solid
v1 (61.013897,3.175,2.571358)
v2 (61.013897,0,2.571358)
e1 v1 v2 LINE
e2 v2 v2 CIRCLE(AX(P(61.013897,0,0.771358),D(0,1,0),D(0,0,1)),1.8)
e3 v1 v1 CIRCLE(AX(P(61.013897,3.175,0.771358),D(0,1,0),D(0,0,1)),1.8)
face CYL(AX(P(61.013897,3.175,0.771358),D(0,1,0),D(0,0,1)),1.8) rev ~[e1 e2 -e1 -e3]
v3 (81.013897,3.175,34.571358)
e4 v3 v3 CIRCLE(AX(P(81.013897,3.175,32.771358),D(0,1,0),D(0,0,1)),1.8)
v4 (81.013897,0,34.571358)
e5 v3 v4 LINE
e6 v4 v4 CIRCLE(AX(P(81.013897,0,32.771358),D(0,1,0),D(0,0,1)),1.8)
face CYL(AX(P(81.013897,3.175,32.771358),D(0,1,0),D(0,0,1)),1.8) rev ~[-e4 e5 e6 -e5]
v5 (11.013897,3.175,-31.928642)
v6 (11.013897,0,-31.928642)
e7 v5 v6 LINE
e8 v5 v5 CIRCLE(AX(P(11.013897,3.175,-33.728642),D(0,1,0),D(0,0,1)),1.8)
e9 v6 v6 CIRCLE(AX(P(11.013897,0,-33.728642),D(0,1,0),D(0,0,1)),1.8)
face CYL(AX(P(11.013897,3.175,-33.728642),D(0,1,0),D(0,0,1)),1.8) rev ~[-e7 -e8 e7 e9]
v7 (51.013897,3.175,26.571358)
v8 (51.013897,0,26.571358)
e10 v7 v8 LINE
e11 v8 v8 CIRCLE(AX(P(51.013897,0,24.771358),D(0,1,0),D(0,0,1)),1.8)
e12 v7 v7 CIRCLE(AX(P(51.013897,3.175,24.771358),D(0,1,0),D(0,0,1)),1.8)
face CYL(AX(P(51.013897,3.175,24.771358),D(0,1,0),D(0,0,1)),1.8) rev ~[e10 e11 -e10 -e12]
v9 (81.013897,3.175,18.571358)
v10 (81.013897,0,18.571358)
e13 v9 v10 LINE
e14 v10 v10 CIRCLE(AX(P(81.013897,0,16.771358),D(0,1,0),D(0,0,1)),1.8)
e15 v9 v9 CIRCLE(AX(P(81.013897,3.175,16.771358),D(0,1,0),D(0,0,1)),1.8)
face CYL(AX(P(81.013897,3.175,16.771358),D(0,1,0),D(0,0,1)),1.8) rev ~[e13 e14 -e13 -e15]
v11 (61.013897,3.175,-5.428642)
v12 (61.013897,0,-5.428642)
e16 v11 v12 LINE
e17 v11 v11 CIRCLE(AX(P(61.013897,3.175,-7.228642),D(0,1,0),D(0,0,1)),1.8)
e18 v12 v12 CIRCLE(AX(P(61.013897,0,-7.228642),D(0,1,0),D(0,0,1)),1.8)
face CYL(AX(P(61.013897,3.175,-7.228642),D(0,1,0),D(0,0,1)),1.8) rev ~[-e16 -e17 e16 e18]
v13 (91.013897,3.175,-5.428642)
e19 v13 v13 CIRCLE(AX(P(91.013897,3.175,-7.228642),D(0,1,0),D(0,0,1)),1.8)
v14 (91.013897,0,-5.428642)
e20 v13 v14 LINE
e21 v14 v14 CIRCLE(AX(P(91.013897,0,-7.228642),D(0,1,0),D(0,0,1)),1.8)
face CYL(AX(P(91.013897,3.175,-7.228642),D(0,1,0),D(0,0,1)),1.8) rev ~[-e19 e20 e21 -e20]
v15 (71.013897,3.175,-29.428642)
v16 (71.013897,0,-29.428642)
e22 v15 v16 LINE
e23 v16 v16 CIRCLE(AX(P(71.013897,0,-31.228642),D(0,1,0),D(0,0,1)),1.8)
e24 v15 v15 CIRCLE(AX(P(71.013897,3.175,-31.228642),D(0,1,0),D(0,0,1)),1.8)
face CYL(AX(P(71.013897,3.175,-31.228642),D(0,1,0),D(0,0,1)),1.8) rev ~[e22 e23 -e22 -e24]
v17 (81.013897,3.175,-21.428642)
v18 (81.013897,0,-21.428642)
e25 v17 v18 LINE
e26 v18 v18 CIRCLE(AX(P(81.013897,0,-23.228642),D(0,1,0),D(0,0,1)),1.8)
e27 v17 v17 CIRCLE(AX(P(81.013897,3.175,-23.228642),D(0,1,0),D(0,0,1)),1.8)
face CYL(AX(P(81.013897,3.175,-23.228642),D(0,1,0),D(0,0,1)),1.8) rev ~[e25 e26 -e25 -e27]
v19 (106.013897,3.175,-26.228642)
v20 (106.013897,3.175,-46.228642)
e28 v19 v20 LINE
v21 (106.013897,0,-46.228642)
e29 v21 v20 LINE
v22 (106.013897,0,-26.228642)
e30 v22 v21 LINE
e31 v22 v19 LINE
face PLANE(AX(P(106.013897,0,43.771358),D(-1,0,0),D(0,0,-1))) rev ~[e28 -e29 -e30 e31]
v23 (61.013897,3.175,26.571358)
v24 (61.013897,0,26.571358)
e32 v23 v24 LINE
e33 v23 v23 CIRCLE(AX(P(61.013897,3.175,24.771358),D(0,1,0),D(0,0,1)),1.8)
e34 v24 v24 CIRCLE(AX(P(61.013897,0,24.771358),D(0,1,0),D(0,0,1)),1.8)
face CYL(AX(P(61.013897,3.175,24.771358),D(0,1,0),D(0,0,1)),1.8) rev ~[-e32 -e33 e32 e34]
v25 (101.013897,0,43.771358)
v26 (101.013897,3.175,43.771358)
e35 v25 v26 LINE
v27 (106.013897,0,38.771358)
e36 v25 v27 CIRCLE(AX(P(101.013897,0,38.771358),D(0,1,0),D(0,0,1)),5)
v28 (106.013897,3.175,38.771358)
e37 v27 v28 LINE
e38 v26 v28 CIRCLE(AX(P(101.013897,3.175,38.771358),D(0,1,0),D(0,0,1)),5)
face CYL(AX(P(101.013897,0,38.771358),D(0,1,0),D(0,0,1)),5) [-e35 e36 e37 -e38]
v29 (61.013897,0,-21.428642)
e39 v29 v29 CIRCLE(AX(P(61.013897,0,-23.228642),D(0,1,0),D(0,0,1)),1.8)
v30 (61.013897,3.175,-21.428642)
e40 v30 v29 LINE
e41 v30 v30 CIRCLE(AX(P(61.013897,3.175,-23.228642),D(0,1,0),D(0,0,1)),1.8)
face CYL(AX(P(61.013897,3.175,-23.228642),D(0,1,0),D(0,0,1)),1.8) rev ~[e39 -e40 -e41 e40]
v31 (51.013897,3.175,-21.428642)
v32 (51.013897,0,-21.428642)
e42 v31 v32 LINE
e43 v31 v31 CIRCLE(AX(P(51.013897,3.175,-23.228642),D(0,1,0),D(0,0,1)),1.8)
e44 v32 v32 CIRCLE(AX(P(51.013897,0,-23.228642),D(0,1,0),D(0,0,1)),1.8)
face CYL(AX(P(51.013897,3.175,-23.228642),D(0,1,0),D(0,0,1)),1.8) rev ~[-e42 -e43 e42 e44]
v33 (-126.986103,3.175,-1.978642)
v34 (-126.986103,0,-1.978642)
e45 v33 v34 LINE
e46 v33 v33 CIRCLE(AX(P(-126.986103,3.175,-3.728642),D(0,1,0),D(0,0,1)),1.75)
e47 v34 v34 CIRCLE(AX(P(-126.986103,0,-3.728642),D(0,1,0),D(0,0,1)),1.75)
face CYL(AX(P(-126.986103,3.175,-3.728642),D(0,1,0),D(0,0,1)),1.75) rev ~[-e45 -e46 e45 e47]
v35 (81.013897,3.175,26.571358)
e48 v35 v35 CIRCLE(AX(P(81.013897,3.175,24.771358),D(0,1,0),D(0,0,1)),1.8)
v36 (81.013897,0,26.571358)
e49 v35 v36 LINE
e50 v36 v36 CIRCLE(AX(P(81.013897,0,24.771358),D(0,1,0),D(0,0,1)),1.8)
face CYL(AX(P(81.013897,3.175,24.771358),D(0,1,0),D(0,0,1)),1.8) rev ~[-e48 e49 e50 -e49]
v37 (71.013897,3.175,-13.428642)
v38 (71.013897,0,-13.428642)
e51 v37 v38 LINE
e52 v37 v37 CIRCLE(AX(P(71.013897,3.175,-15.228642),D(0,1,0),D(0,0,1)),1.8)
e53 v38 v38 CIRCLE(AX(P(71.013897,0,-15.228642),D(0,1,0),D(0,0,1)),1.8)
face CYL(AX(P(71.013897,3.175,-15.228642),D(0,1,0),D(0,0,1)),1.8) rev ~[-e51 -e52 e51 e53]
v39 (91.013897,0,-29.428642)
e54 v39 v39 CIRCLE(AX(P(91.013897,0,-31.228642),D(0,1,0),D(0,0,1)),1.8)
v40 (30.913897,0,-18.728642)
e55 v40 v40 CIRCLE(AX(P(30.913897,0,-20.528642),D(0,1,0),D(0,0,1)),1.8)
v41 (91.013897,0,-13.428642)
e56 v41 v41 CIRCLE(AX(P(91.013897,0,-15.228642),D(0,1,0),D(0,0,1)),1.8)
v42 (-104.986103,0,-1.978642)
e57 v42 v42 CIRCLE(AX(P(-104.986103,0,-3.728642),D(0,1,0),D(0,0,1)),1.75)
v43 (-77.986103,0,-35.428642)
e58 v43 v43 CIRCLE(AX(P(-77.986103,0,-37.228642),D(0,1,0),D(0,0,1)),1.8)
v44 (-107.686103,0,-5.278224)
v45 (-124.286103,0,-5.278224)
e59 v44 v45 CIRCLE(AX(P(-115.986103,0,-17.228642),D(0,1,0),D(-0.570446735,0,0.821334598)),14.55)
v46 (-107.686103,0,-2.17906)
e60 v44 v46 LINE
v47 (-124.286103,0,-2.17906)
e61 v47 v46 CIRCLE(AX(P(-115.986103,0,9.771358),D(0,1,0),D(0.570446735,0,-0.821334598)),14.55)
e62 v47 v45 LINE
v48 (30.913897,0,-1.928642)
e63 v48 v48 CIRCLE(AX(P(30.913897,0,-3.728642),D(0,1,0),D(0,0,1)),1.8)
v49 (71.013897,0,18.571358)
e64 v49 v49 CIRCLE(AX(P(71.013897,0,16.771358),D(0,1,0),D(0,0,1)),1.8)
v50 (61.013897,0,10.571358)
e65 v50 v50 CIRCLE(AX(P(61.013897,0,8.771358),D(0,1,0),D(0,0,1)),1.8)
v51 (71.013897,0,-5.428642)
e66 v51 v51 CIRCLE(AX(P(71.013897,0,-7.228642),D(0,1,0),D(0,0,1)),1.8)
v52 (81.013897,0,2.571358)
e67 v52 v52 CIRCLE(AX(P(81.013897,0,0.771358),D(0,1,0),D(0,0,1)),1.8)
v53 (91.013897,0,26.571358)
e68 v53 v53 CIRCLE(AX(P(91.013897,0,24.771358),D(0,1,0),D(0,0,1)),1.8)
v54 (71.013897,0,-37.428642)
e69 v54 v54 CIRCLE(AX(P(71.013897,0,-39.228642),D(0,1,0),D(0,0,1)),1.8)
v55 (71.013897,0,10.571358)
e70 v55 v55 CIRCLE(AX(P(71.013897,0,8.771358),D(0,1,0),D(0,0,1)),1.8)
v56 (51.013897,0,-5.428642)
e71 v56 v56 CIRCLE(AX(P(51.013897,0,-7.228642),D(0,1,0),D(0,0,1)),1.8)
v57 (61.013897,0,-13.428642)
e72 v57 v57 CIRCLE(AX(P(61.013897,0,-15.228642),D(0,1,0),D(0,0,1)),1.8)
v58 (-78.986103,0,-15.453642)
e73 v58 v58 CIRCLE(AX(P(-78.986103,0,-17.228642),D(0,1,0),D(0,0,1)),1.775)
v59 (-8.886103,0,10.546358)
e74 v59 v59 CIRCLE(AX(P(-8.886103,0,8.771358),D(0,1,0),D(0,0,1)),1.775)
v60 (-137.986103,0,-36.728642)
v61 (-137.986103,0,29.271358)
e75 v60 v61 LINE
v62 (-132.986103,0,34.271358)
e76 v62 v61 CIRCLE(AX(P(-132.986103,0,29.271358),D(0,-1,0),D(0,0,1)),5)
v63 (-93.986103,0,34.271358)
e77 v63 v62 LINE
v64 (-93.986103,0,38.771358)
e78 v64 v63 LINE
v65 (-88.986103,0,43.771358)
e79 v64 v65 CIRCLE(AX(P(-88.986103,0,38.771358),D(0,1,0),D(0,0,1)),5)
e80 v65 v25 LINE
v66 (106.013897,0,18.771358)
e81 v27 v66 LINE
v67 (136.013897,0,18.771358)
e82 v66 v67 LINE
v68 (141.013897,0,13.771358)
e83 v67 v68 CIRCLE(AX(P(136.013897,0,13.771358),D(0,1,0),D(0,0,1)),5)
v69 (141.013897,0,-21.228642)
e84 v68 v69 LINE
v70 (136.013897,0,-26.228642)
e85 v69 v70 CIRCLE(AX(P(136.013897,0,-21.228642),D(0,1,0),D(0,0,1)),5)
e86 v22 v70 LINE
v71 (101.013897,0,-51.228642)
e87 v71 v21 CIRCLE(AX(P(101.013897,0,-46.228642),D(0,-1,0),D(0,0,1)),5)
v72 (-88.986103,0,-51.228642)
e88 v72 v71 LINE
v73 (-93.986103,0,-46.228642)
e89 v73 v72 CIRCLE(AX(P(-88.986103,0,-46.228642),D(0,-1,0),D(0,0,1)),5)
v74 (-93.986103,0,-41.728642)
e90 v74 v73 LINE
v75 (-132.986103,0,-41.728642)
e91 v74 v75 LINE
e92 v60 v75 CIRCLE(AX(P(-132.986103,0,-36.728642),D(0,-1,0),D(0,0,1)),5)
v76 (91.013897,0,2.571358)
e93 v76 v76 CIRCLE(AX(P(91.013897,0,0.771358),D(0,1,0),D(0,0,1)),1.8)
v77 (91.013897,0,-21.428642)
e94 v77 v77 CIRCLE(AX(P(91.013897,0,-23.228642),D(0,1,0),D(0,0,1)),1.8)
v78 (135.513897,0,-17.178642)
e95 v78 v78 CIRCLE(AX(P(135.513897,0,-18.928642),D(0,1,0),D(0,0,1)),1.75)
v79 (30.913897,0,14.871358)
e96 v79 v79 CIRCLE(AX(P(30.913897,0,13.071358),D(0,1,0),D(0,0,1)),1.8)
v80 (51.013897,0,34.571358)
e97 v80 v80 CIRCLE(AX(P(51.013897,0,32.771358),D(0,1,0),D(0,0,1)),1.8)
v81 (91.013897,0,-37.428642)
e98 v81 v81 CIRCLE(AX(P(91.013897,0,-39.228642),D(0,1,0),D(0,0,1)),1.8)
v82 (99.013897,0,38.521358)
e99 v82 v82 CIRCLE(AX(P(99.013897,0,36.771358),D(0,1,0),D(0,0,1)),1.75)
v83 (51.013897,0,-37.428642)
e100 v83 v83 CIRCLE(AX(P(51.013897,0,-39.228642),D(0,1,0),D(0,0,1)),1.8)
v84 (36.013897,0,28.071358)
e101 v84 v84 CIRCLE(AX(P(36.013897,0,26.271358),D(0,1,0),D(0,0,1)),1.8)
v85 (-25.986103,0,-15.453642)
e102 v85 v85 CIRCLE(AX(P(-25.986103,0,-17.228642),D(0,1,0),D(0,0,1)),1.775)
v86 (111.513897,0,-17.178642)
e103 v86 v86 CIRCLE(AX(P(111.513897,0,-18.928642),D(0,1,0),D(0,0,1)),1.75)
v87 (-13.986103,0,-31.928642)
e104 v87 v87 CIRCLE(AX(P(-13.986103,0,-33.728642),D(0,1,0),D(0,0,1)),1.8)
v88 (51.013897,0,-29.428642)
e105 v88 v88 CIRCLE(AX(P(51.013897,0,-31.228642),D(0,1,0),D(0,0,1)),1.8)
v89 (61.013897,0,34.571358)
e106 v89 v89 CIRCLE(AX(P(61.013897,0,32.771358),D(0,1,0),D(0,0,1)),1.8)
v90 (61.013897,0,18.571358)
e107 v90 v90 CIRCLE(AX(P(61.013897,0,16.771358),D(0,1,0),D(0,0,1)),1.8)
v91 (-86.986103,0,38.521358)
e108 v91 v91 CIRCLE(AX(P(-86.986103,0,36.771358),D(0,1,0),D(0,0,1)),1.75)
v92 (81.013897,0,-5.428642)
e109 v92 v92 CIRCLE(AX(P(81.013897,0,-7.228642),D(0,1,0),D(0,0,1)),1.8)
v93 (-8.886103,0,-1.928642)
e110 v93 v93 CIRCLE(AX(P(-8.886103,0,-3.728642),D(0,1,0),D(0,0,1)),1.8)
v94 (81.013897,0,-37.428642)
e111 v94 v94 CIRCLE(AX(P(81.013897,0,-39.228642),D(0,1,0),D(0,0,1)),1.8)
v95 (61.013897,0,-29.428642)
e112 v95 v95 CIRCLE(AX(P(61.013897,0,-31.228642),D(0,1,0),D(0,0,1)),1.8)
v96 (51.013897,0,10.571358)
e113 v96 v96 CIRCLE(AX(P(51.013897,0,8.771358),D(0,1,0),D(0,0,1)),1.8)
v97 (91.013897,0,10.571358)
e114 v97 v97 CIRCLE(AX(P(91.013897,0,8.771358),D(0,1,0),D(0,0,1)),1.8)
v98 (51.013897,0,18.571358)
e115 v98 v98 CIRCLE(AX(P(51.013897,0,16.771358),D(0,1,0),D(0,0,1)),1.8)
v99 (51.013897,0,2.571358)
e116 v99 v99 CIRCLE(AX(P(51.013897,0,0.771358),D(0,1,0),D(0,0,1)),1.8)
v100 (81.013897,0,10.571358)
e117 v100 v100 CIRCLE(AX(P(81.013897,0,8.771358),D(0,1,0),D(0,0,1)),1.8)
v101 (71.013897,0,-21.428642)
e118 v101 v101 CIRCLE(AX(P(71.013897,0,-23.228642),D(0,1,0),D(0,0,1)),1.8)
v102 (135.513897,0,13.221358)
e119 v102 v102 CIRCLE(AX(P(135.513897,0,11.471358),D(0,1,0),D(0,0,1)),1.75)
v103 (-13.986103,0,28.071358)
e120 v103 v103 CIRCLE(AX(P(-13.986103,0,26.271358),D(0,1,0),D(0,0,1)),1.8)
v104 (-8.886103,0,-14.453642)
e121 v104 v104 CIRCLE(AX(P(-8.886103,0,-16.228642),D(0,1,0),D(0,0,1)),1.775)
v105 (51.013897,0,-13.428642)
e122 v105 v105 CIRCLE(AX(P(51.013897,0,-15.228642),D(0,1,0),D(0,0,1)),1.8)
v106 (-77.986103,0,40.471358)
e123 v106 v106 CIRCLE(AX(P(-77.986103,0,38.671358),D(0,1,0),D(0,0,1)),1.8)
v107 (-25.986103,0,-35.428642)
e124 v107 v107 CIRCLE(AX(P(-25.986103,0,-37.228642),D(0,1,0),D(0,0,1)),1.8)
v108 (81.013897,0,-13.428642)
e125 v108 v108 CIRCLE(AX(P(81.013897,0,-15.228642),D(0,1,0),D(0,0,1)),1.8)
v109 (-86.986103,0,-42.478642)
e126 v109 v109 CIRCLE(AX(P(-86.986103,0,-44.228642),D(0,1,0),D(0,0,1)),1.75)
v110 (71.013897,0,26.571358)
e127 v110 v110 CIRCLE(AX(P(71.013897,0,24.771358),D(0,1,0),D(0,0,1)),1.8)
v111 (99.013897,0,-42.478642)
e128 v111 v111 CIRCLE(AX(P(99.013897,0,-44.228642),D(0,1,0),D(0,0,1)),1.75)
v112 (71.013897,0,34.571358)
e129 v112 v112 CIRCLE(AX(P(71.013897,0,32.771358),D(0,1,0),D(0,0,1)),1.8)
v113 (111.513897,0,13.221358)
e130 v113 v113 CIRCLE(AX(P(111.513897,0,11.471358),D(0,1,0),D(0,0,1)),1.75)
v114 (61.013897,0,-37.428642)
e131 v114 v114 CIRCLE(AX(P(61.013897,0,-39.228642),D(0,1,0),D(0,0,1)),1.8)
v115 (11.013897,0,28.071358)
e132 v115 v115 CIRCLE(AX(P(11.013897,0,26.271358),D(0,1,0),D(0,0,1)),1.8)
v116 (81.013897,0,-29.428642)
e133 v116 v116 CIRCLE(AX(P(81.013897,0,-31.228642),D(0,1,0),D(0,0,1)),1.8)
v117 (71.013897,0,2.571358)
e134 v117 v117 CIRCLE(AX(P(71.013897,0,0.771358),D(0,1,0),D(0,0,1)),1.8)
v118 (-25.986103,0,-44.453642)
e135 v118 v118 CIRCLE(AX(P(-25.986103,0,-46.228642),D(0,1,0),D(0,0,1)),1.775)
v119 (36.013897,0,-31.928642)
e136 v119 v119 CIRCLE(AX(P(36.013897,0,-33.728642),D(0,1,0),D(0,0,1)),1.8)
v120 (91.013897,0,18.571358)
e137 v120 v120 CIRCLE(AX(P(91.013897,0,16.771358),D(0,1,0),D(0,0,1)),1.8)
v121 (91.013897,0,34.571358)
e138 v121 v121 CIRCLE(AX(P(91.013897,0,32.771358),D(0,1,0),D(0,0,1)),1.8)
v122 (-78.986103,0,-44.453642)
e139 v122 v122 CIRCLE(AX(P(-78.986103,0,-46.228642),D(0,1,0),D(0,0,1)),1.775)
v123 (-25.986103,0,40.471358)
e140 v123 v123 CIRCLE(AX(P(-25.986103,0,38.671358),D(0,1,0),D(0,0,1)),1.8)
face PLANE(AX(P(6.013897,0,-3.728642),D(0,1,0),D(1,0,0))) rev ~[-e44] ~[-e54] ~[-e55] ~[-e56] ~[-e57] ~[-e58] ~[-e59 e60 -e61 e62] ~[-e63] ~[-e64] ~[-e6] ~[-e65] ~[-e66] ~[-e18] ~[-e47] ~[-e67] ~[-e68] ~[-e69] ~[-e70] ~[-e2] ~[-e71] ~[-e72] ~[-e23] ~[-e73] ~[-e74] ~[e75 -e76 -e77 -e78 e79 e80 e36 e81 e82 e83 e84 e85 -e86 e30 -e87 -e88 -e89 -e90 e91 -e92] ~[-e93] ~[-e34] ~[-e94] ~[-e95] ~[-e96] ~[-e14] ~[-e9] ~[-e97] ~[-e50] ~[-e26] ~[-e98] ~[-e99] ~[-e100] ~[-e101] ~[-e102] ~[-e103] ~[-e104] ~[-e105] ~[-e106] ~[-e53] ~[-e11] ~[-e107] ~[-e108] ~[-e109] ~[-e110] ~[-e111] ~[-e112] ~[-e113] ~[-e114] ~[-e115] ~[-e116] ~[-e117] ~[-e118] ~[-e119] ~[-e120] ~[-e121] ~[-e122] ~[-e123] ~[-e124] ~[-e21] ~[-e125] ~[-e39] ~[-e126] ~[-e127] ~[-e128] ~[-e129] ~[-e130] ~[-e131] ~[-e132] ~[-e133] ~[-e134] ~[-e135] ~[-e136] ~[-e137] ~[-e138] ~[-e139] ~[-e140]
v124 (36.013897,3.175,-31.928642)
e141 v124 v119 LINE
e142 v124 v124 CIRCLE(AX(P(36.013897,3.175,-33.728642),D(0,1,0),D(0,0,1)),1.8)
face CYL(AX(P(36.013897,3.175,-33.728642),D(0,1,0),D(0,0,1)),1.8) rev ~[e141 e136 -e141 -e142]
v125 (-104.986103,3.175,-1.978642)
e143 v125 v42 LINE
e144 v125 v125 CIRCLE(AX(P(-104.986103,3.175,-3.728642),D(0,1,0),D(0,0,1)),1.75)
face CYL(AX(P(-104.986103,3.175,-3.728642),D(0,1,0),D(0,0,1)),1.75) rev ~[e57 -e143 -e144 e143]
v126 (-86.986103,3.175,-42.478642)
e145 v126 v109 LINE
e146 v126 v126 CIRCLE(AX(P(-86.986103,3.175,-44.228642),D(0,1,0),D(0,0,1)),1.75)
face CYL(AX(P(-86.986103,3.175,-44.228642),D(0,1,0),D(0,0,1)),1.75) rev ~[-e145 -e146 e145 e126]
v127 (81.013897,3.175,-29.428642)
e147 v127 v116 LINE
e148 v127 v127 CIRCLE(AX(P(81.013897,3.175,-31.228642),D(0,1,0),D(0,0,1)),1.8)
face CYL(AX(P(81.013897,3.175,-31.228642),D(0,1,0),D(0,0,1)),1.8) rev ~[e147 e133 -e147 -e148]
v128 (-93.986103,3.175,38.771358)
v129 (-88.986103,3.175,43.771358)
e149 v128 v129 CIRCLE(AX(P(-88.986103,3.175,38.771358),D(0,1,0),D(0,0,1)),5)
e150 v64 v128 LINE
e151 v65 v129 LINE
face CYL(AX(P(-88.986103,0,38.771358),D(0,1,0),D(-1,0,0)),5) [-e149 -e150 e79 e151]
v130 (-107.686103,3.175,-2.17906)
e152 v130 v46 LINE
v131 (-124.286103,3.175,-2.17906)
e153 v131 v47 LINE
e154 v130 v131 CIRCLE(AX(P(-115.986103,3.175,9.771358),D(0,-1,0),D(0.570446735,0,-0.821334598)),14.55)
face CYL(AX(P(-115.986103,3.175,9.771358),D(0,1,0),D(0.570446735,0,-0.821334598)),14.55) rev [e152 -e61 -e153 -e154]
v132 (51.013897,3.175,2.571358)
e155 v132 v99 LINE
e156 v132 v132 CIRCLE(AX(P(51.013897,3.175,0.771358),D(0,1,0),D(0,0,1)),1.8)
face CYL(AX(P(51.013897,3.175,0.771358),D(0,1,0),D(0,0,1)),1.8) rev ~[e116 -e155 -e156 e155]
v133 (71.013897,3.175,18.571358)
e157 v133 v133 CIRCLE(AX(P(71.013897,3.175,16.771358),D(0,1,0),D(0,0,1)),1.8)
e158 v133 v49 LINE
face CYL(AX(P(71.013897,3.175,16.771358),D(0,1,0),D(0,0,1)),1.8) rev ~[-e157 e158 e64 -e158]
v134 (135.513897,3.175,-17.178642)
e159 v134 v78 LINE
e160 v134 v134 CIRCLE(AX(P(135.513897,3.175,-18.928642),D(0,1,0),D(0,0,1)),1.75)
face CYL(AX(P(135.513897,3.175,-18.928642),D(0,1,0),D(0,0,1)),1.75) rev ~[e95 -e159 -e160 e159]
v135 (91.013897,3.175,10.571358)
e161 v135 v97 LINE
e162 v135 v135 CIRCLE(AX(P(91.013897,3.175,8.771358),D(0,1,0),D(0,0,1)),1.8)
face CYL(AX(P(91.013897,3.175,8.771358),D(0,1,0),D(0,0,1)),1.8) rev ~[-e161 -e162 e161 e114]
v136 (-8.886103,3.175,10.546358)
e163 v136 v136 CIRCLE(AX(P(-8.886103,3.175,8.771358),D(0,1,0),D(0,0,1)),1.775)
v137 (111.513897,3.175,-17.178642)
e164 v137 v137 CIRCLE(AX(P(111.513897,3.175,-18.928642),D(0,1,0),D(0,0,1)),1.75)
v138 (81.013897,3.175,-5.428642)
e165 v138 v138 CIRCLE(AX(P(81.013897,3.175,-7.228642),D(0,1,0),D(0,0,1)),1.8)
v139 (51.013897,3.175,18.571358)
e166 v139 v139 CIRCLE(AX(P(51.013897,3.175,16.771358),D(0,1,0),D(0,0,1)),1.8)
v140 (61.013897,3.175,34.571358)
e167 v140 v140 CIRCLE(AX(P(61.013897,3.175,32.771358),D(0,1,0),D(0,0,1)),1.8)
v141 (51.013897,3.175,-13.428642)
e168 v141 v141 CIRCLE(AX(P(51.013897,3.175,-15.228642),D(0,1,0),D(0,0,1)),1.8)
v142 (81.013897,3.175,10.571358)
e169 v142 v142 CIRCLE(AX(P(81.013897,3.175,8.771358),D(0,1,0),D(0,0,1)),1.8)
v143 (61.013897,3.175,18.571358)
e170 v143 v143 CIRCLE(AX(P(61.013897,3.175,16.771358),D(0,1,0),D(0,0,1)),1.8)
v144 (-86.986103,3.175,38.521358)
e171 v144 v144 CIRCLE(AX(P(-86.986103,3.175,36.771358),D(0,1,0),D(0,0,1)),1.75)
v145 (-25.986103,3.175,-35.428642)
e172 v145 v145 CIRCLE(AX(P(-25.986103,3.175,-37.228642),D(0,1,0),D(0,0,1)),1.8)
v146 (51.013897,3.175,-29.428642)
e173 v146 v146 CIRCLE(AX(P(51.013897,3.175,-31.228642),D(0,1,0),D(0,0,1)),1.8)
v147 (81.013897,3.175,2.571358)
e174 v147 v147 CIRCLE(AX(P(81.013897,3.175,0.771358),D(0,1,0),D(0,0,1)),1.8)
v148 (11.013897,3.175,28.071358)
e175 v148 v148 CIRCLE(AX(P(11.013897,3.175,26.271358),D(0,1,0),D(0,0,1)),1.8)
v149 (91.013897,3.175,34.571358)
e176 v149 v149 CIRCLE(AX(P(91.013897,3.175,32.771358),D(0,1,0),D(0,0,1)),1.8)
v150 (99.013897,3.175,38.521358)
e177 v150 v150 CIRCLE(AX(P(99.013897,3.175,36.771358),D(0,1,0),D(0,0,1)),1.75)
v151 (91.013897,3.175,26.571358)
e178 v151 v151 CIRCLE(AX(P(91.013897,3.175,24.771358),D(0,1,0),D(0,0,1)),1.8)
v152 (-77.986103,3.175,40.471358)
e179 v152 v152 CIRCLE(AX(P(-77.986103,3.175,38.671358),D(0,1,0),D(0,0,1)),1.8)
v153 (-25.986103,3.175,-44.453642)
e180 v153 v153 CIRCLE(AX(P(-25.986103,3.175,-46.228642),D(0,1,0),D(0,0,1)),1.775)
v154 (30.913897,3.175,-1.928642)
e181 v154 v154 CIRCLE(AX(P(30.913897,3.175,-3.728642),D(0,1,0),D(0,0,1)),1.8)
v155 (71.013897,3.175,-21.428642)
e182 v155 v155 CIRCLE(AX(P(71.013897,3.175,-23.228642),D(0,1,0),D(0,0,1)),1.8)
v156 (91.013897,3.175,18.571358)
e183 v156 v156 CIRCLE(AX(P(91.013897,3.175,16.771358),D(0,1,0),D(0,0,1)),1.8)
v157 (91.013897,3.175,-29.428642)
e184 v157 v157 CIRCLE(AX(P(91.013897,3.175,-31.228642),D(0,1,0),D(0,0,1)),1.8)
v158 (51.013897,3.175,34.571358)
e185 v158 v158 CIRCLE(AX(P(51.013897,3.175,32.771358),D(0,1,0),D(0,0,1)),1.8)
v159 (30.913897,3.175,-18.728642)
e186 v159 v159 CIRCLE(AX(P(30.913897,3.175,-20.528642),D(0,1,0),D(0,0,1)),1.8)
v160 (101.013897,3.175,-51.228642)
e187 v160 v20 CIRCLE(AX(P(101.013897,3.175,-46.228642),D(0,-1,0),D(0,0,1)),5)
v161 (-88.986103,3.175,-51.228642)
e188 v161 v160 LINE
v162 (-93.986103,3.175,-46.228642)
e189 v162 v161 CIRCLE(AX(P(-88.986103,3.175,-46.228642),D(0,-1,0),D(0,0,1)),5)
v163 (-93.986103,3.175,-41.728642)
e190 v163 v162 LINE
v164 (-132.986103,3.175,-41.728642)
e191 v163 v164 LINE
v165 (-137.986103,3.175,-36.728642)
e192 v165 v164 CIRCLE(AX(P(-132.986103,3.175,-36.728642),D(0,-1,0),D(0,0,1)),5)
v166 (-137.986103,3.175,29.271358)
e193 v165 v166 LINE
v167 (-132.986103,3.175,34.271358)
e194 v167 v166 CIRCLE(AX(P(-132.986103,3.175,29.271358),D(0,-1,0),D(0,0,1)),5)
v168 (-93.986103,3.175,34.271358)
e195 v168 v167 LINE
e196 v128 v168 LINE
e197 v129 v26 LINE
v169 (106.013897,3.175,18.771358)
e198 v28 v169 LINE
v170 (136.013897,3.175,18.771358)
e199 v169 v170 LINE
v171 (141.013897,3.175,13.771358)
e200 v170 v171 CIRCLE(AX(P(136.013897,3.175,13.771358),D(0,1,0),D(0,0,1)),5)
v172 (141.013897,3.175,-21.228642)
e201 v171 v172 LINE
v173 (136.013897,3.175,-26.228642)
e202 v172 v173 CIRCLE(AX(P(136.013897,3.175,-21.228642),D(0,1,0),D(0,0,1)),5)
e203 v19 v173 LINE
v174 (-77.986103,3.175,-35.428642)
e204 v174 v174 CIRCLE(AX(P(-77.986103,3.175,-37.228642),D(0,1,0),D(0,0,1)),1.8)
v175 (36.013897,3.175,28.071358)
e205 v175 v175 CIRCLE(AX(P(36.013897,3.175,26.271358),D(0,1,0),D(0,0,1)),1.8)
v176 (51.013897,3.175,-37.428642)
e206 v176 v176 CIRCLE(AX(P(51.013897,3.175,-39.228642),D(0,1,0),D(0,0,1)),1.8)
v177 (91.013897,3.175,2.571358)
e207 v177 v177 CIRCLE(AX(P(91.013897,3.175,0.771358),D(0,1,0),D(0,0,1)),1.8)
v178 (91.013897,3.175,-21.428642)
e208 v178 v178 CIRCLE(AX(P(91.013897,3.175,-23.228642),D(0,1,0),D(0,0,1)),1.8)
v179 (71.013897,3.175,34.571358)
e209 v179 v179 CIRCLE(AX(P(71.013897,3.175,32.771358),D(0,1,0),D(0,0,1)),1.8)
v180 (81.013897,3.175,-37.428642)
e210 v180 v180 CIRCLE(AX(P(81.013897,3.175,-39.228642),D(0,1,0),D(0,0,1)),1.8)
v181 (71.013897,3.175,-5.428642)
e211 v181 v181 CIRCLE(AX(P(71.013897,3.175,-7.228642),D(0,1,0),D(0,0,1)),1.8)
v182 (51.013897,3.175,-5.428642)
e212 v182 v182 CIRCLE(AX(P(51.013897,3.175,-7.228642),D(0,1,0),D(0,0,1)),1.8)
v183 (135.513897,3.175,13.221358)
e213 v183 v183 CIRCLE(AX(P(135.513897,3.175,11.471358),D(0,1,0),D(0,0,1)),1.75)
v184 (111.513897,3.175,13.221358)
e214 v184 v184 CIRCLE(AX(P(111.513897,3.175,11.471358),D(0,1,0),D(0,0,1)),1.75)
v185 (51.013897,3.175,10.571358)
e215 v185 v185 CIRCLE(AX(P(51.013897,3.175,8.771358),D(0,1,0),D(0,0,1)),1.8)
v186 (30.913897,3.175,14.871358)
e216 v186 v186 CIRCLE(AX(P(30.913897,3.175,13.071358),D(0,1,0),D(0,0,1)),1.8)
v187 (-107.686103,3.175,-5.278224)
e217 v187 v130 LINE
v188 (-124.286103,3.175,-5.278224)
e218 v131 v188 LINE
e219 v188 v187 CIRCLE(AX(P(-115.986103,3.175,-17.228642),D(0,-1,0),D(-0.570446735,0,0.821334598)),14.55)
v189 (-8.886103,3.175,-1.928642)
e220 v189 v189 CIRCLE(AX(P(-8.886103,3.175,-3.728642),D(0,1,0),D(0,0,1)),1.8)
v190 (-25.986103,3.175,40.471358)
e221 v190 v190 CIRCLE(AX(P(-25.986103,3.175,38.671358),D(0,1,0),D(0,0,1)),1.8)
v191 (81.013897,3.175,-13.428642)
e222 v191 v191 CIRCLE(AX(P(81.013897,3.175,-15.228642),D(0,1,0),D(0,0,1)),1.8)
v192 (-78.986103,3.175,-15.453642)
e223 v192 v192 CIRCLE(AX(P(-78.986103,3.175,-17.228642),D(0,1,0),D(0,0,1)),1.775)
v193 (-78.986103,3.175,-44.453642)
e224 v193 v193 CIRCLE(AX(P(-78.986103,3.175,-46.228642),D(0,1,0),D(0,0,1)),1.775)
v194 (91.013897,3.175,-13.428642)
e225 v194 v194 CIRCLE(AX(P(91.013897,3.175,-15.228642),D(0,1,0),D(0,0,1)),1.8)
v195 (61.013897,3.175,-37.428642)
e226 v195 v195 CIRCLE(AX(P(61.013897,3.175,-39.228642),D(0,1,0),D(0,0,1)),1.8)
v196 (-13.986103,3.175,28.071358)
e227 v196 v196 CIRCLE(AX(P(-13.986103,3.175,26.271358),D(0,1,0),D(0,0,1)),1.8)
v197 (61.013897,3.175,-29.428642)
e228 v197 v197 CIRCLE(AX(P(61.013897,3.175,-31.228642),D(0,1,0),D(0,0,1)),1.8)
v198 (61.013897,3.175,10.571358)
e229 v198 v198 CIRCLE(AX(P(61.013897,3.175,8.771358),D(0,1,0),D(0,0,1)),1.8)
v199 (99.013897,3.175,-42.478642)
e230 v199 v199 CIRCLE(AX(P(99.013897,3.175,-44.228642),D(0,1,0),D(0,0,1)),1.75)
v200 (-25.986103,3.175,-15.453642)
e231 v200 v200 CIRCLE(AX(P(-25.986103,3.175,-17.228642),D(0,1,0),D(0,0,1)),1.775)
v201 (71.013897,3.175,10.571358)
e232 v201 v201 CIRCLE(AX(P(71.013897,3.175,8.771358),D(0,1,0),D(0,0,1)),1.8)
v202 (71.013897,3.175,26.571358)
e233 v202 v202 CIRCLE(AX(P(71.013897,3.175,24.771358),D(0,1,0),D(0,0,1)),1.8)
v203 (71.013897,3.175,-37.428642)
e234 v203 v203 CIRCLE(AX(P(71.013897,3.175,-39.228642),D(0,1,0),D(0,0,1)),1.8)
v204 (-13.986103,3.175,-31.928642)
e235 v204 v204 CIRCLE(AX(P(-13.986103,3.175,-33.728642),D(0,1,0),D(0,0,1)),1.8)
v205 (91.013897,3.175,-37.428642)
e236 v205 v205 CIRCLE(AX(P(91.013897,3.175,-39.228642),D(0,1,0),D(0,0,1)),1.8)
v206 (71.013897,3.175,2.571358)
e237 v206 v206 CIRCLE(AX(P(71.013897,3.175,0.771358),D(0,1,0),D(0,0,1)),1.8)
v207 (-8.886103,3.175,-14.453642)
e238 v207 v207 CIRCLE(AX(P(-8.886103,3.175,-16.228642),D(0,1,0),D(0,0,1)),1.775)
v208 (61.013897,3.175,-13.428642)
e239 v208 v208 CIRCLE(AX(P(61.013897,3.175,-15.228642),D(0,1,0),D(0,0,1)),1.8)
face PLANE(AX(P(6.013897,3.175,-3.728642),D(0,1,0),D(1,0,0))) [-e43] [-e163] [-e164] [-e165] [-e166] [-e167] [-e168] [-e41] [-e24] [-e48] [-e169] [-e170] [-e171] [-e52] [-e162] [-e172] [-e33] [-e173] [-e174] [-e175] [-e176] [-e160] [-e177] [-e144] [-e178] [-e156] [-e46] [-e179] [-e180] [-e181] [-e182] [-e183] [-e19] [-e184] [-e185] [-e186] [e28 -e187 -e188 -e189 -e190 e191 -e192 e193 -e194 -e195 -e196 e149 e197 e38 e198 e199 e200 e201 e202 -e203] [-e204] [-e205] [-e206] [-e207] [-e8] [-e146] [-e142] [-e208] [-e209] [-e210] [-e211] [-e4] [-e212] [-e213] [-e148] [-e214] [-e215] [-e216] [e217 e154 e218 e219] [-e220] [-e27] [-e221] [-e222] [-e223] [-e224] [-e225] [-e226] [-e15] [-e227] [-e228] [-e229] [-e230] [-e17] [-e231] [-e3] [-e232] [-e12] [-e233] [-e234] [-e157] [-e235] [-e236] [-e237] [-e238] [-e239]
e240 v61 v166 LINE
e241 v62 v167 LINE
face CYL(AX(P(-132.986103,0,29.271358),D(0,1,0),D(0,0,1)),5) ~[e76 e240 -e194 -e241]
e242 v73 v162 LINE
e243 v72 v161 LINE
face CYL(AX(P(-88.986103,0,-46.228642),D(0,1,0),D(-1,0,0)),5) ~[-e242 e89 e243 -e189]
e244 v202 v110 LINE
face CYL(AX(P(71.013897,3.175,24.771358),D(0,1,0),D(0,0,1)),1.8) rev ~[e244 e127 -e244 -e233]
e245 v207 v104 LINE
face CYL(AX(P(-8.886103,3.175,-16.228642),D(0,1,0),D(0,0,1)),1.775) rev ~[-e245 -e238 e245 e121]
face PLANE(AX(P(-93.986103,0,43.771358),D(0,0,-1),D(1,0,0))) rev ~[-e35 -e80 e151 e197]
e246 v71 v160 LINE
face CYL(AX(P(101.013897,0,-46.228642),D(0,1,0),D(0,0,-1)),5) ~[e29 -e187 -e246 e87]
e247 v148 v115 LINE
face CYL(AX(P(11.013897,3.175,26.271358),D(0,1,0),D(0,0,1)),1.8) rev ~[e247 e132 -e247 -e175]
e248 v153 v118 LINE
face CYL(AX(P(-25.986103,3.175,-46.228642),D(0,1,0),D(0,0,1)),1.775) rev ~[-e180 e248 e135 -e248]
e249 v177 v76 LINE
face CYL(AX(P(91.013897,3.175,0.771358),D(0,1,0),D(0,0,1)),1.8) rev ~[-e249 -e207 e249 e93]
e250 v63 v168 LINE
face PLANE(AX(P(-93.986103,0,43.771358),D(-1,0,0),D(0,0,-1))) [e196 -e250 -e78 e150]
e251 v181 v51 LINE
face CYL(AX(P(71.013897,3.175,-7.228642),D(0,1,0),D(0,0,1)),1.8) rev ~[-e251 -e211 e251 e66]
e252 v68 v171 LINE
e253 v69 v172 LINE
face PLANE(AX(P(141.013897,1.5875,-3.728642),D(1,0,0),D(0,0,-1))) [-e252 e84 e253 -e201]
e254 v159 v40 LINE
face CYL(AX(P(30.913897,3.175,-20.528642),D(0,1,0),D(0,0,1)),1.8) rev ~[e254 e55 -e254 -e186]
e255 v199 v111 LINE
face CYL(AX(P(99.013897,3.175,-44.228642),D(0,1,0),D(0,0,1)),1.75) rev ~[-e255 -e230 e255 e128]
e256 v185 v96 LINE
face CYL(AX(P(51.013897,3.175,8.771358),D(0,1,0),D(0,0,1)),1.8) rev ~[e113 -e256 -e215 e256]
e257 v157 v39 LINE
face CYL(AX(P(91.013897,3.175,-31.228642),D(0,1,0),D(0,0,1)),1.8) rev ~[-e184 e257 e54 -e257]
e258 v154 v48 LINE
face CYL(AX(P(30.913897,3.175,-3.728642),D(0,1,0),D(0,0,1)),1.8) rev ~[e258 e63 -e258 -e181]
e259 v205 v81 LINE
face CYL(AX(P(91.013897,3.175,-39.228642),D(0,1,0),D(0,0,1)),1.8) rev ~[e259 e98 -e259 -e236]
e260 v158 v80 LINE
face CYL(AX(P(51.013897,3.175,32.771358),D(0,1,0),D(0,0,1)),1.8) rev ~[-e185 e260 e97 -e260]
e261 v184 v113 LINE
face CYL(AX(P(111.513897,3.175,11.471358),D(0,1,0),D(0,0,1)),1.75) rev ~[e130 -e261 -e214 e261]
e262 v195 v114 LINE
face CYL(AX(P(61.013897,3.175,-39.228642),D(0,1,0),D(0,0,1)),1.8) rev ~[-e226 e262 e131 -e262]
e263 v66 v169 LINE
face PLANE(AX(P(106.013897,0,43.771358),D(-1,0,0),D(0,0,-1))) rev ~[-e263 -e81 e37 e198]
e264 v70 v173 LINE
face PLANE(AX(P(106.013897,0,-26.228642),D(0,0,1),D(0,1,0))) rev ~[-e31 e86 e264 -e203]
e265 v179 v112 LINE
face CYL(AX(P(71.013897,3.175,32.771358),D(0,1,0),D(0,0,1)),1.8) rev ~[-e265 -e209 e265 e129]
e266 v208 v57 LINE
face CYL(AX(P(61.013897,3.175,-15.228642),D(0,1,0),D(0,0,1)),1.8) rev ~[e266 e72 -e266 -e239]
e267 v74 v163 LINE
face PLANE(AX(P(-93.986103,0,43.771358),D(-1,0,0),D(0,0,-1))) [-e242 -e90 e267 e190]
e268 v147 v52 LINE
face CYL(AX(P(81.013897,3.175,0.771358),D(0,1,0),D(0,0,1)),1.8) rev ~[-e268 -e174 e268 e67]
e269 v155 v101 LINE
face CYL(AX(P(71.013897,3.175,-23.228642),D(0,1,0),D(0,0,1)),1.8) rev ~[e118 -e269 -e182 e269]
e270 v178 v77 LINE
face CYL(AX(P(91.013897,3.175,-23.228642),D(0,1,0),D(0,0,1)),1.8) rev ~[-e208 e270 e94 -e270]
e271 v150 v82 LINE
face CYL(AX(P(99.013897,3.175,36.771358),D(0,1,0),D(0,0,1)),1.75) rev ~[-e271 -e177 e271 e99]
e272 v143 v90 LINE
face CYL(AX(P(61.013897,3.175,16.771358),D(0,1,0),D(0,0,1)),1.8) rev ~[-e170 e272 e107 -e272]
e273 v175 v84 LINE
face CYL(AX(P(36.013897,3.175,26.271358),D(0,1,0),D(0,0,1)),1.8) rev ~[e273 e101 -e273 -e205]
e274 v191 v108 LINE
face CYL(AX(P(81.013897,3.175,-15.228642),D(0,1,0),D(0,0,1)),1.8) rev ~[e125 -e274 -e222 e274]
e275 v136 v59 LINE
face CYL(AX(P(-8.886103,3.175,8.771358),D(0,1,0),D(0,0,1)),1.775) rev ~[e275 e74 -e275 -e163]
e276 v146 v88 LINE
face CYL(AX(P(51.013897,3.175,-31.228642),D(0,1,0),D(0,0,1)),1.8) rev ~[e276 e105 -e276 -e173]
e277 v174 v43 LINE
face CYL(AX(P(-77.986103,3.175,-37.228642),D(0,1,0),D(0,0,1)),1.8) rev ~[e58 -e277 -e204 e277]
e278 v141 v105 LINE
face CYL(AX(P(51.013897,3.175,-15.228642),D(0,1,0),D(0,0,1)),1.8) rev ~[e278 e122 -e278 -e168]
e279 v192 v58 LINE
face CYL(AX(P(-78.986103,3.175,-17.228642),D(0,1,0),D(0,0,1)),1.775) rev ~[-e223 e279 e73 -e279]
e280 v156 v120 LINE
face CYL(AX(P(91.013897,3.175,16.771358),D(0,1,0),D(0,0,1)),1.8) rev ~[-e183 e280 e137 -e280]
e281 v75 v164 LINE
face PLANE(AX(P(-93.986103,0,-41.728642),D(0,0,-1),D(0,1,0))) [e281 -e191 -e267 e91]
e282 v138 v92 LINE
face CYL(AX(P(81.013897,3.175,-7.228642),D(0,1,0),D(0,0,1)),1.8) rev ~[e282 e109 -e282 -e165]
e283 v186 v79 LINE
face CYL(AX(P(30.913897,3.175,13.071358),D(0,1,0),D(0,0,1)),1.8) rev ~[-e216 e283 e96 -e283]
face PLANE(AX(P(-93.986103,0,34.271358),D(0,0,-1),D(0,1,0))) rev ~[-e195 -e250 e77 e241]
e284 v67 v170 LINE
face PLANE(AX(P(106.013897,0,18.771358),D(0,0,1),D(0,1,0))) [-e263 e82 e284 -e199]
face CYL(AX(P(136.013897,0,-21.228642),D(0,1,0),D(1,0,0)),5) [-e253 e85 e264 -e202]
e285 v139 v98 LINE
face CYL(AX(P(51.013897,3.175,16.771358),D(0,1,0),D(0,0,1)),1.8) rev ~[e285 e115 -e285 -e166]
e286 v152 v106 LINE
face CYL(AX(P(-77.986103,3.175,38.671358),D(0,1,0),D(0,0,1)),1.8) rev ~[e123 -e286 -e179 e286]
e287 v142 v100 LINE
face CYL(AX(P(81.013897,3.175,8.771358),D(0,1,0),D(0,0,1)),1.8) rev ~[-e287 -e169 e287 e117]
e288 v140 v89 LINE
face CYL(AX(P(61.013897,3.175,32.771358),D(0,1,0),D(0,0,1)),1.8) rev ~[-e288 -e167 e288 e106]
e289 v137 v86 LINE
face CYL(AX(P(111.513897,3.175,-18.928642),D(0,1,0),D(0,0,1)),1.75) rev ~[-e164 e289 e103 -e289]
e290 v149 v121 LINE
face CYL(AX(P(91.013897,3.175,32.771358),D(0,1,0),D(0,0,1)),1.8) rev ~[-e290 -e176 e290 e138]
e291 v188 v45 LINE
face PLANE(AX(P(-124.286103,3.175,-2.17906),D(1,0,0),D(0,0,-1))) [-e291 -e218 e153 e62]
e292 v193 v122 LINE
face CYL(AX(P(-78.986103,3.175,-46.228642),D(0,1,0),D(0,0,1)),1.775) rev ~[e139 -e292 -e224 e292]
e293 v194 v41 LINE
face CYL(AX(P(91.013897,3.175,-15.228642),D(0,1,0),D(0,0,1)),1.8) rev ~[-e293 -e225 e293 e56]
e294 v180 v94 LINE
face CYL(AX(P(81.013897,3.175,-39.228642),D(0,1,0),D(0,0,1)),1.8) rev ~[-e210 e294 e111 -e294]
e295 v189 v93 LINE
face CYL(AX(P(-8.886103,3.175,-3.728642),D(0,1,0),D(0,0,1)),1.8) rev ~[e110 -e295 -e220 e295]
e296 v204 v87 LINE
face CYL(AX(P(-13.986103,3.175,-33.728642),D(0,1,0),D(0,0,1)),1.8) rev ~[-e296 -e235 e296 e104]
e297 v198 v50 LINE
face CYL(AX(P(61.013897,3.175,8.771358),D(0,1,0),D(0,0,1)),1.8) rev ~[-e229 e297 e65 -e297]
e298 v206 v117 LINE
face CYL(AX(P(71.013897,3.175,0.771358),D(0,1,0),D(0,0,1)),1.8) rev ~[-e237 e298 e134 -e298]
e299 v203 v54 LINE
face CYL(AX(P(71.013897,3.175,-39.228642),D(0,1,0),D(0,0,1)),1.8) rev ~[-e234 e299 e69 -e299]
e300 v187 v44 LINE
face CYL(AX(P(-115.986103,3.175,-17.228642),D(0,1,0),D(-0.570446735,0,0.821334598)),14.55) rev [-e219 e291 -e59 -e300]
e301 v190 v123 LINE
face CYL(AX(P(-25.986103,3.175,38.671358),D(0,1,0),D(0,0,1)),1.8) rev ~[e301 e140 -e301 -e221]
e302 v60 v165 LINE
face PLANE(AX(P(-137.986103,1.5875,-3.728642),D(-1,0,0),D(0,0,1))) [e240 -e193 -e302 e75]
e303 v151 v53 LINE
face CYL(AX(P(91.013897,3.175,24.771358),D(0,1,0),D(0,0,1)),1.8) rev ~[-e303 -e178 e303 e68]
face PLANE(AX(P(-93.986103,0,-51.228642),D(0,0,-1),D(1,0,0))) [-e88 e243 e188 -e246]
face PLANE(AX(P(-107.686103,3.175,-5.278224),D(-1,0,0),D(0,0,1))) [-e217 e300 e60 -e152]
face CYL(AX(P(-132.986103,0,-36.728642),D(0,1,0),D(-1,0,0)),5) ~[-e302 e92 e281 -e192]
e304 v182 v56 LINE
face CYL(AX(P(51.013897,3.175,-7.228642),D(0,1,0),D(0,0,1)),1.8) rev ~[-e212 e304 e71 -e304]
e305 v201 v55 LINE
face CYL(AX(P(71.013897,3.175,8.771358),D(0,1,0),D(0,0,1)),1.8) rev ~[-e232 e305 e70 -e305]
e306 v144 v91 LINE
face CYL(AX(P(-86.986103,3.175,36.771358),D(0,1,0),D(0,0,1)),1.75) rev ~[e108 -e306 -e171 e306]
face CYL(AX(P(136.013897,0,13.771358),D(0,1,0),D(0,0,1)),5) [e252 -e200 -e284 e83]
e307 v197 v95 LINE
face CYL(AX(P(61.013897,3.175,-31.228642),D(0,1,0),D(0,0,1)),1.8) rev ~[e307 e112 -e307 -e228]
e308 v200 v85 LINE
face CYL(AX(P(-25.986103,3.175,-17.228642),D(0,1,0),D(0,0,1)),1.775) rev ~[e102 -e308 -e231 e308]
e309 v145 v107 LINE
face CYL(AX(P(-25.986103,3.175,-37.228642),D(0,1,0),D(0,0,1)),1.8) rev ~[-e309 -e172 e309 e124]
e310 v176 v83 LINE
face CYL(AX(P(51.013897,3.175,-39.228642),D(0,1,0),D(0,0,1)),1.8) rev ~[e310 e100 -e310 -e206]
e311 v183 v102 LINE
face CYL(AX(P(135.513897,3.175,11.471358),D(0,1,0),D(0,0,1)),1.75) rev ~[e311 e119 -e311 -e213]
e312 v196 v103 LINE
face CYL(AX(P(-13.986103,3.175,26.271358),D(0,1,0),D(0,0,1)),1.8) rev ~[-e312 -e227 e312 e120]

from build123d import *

# Parameters (mm, degrees)
SKETCH1_W           = 200
SKETCH1_H           = 95
BOSS_EXTRUDE1_DEPTH = 3.175
SKETCH3_R           = 1.75
CUT_EXTRUDE2_DEPTH  = 118.785400915
SKETCH4_W           = 76
SKETCH4_H           = 3.175
BOSS_EXTRUDE2_DEPTH = 44
SKETCH5_R           = 1.75
CUT_EXTRUDE3_DEPTH  = 148.223024992
SKETCH7_W           = 45
SKETCH7_H           = 3.175
BOSS_EXTRUDE3_DEPTH = 35
SKETCH8_R           = 1.75
CUT_EXTRUDE4_DEPTH  = 151.064564226
FILLET1_R           = 5
SKETCH9_R           = 1.775
CUT_EXTRUDE5_DEPTH  = 151.064564226
SKETCH10_R          = 1.8
SKETCH10_R_2        = 1.775
CUT_EXTRUDE6_DEPTH  = 151.064564226
SKETCH11_R          = 1.8
CUT_EXTRUDE7_DEPTH  = 151.064564226
SKETCH12_R          = 1.8
CUT_EXTRUDE8_DEPTH  = 151.064564226


with BuildPart() as part:
    # Sketch1 → Boss-Extrude1 (new body)
    with BuildSketch(Plane(origin=(0, 0, 0), x_dir=(1, 0, 0), z_dir=(0, 1, 0))):
        with Locations((6.013896682, 3.728641929)):
            Rectangle(SKETCH1_W, SKETCH1_H)
    extrude(amount=BOSS_EXTRUDE1_DEPTH)

    # Sketch3 → Cut-Extrude2 (cut, through all)
    with BuildSketch(Plane(origin=(0, 3.175, 0), x_dir=(1, 0, 0), z_dir=(0, 1, 0))):
        with Locations(Location((-86.986103318, -36.771358071, 0), (0, 0, 270))):
            Circle(SKETCH3_R)
        with Locations(Location((-86.986103318, 44.228641929, 0), (0, 0, 270))):
            Circle(SKETCH3_R)
        with Locations(Location((99.013896682, 44.228641929, 0), (0, 0, 270))):
            Circle(SKETCH3_R)
        with Locations(Location((99.013896682, -36.771358071, 0), (0, 0, 270))):
            Circle(SKETCH3_R)
    extrude(amount=-CUT_EXTRUDE2_DEPTH, mode=Mode.SUBTRACT)

    # Sketch4 → Boss-Extrude2 (add)
    with BuildSketch(Plane.ZY.offset(93.986103318)):
        with Locations((-3.728641929, 1.5875)):
            Rectangle(SKETCH4_W, SKETCH4_H)
    extrude(amount=BOSS_EXTRUDE2_DEPTH)

    # Sketch5 → Cut-Extrude3 (cut, through all)
    with BuildSketch(Plane(origin=(0, 3.175, 0), x_dir=(1, 0, 0), z_dir=(0, 1, 0))):
        with Locations(Location((-126.986103318, 3.728641929, 0), (0, 0, 270))):
            Circle(SKETCH5_R)
        with Locations(Location((-104.986103318, 3.728641929, 0), (0, 0, 270))):
            Circle(SKETCH5_R)
        with BuildLine():
            Line((-124.286103318, 2.179060332), (-124.286103318, 5.278223526))
            ThreePointArc((-124.286103318, 5.278223526), (-115.986103318, 31.778641929), (-107.686103318, 5.278223526))
            Line((-107.686103318, 5.278223526), (-107.686103318, 2.179060332))
            ThreePointArc((-107.686103318, 2.179060332), (-115.986103318, -24.321358071), (-124.286103318, 2.179060332))
        make_face()
    extrude(amount=-CUT_EXTRUDE3_DEPTH, mode=Mode.SUBTRACT)

    # Sketch7 → Boss-Extrude3 (add)
    with BuildSketch(Plane(origin=(106.013896682, 0, 0), x_dir=(0, 0, -1), z_dir=(1, 0, 0))):
        with Locations((3.728641929, 1.5875)):
            Rectangle(SKETCH7_W, SKETCH7_H)
    extrude(amount=BOSS_EXTRUDE3_DEPTH)

    # Sketch8 → Cut-Extrude4 (cut, through all)
    with BuildSketch(Plane(origin=(0, 3.175, 0), x_dir=(1, 0, 0), z_dir=(0, 1, 0))):
        with Locations(Location((111.513896682, -11.471358071, 0), (0, 0, 270))):
            Circle(SKETCH8_R)
        with Locations(Location((111.513896682, 18.928641929, 0), (0, 0, 270))):
            Circle(SKETCH8_R)
        with Locations(Location((135.513896682, -11.471358071, 0), (0, 0, 270))):
            Circle(SKETCH8_R)
        with Locations(Location((135.513896682, 18.928641929, 0), (0, 0, 270))):
            Circle(SKETCH8_R)
    extrude(amount=-CUT_EXTRUDE4_DEPTH, mode=Mode.SUBTRACT)

    # Fillet1
    fillet1_edges = [part.edges().sort_by_distance(p)[0] for p in [
        (106.013896682, 1.5875, -51.228641929),
        (141.013896682, 1.5875, -26.228641929),
        (141.013896682, 1.5875, 18.771358071),
        (106.013896682, 1.5875, 43.771358071),
        (-93.986103318, 1.5875, -51.228641929),
        (-93.986103318, 1.5875, 43.771358071),
        (-137.986103318, 1.5875, -41.728641929),
        (-137.986103318, 1.5875, 34.271358071),
    ]]
    fillet(fillet1_edges, radius=FILLET1_R)

    # Sketch9 → Cut-Extrude5 (cut, through all)
    with BuildSketch(Plane(origin=(0, 3.175, 0), x_dir=(1, 0, 0), z_dir=(0, 1, 0))):
        with Locations(Location((-78.986103318, 46.228641929, 0), (0, 0, 270))):
            Circle(SKETCH9_R)
        with Locations(Location((-25.986103318, 46.228641929, 0), (0, 0, 270))):
            Circle(SKETCH9_R)
        with Locations(Location((-25.986103318, 17.228641929, 0), (0, 0, 270))):
            Circle(SKETCH9_R)
        with Locations(Location((-78.986103318, 17.228641929, 0), (0, 0, 270))):
            Circle(SKETCH9_R)
    extrude(amount=-CUT_EXTRUDE5_DEPTH, mode=Mode.SUBTRACT)

    # Sketch10 → Cut-Extrude6 (cut, through all)
    with BuildSketch(Plane(origin=(0, 3.175, 0), x_dir=(1, 0, 0), z_dir=(0, 1, 0))):
        with Locations(Location((-13.986103318, 33.728641929, 0), (0, 0, 270))):
            Circle(SKETCH10_R)
        with Locations(Location((11.013896682, 33.728641929, 0), (0, 0, 270))):
            Circle(SKETCH10_R)
        with Locations(Location((36.013896682, 33.728641929, 0), (0, 0, 270))):
            Circle(SKETCH10_R)
        with Locations(Location((-13.986103318, -26.271358071, 0), (0, 0, 270))):
            Circle(SKETCH10_R)
        with Locations(Location((11.013896682, -26.271358071, 0), (0, 0, 270))):
            Circle(SKETCH10_R)
        with Locations(Location((36.013896682, -26.271358071, 0), (0, 0, 270))):
            Circle(SKETCH10_R)
        with Locations(Location((-8.886103318, 3.728641929, 0), (0, 0, 270))):
            Circle(SKETCH10_R)
        with Locations(Location((30.913896682, 3.728641929, 0), (0, 0, 270))):
            Circle(SKETCH10_R)
        with Locations(Location((-8.886103318, 16.228641929, 0), (0, 0, 270))):
            Circle(SKETCH10_R_2)
        with Locations(Location((-8.886103318, -8.771358071, 0), (0, 0, 270))):
            Circle(SKETCH10_R_2)
        with Locations(Location((30.913896682, -13.071358071, 0), (0, 0, 270))):
            Circle(SKETCH10_R)
        with Locations(Location((30.913896682, 20.528641929, 0), (0, 0, 270))):
            Circle(SKETCH10_R)
    extrude(amount=-CUT_EXTRUDE6_DEPTH, mode=Mode.SUBTRACT)

    # Sketch11 → Cut-Extrude7 (cut, through all)
    with BuildSketch(Plane(origin=(0, 3.175, 0), x_dir=(1, 0, 0), z_dir=(0, 1, 0))):
        with Locations(Location((-77.986103318, 37.228641929, 0), (0, 0, 270))):
            Circle(SKETCH11_R)
        with Locations(Location((-25.986103318, 37.228641929, 0), (0, 0, 270))):
            Circle(SKETCH11_R)
        with Locations(Location((-77.986103318, -38.671358071, 0), (0, 0, 270))):
            Circle(SKETCH11_R)
        with Locations(Location((-25.986103318, -38.671358071, 0), (0, 0, 270))):
            Circle(SKETCH11_R)
    extrude(amount=-CUT_EXTRUDE7_DEPTH, mode=Mode.SUBTRACT)

    # Sketch12 → Cut-Extrude8 (cut, through all)
    with BuildSketch(Plane(origin=(0, 3.175, 0), x_dir=(1, 0, 0), z_dir=(0, 1, 0))):
        with Locations(Location((51.013896682, 39.228641929, 0), (0, 0, 270))):
            Circle(SKETCH12_R)
        with Locations(Location((51.013896682, 31.228641929, 0), (0, 0, 270))):
            Circle(SKETCH12_R)
        with Locations(Location((51.013896682, 23.228641929, 0), (0, 0, 270))):
            Circle(SKETCH12_R)
        with Locations(Location((51.013896682, 15.228641929, 0), (0, 0, 270))):
            Circle(SKETCH12_R)
        with Locations(Location((51.013896682, 7.228641929, 0), (0, 0, 270))):
            Circle(SKETCH12_R)
        with Locations(Location((51.013896682, -0.771358071, 0), (0, 0, 270))):
            Circle(SKETCH12_R)
        with Locations(Location((51.013896682, -8.771358071, 0), (0, 0, 270))):
            Circle(SKETCH12_R)
        with Locations(Location((51.013896682, -16.771358071, 0), (0, 0, 270))):
            Circle(SKETCH12_R)
        with Locations(Location((51.013896682, -24.771358071, 0), (0, 0, 270))):
            Circle(SKETCH12_R)
        with Locations(Location((51.013896682, -32.771358071, 0), (0, 0, 270))):
            Circle(SKETCH12_R)
        with Locations(Location((61.013896682, 31.228641929, 0), (0, 0, 270))):
            Circle(SKETCH12_R)
        with Locations(Location((61.013896682, 23.228641929, 0), (0, 0, 270))):
            Circle(SKETCH12_R)
        with Locations(Location((61.013896682, 15.228641929, 0), (0, 0, 270))):
            Circle(SKETCH12_R)
        with Locations(Location((61.013896682, 7.228641929, 0), (0, 0, 270))):
            Circle(SKETCH12_R)
        with Locations(Location((61.013896682, -0.771358071, 0), (0, 0, 270))):
            Circle(SKETCH12_R)
        with Locations(Location((61.013896682, -8.771358071, 0), (0, 0, 270))):
            Circle(SKETCH12_R)
        with Locations(Location((61.013896682, -16.771358071, 0), (0, 0, 270))):
            Circle(SKETCH12_R)
        with Locations(Location((61.013896682, -24.771358071, 0), (0, 0, 270))):
            Circle(SKETCH12_R)
        with Locations(Location((61.013896682, -32.771358071, 0), (0, 0, 270))):
            Circle(SKETCH12_R)
        with Locations(Location((71.013896682, 31.228641929, 0), (0, 0, 270))):
            Circle(SKETCH12_R)
        with Locations(Location((71.013896682, 23.228641929, 0), (0, 0, 270))):
            Circle(SKETCH12_R)
        with Locations(Location((71.013896682, 15.228641929, 0), (0, 0, 270))):
            Circle(SKETCH12_R)
        with Locations(Location((71.013896682, 7.228641929, 0), (0, 0, 270))):
            Circle(SKETCH12_R)
        with Locations(Location((71.013896682, -0.771358071, 0), (0, 0, 270))):
            Circle(SKETCH12_R)
        with Locations(Location((71.013896682, -8.771358071, 0), (0, 0, 270))):
            Circle(SKETCH12_R)
        with Locations(Location((71.013896682, -16.771358071, 0), (0, 0, 270))):
            Circle(SKETCH12_R)
        with Locations(Location((71.013896682, -24.771358071, 0), (0, 0, 270))):
            Circle(SKETCH12_R)
        with Locations(Location((71.013896682, -32.771358071, 0), (0, 0, 270))):
            Circle(SKETCH12_R)
        with Locations(Location((81.013896682, 31.228641929, 0), (0, 0, 270))):
            Circle(SKETCH12_R)
        with Locations(Location((81.013896682, 23.228641929, 0), (0, 0, 270))):
            Circle(SKETCH12_R)
        with Locations(Location((81.013896682, 15.228641929, 0), (0, 0, 270))):
            Circle(SKETCH12_R)
        with Locations(Location((81.013896682, 7.228641929, 0), (0, 0, 270))):
            Circle(SKETCH12_R)
        with Locations(Location((81.013896682, -0.771358071, 0), (0, 0, 270))):
            Circle(SKETCH12_R)
        with Locations(Location((81.013896682, -8.771358071, 0), (0, 0, 270))):
            Circle(SKETCH12_R)
        with Locations(Location((81.013896682, -16.771358071, 0), (0, 0, 270))):
            Circle(SKETCH12_R)
        with Locations(Location((81.013896682, -24.771358071, 0), (0, 0, 270))):
            Circle(SKETCH12_R)
        with Locations(Location((81.013896682, -32.771358071, 0), (0, 0, 270))):
            Circle(SKETCH12_R)
        with Locations(Location((91.013896682, 31.228641929, 0), (0, 0, 270))):
            Circle(SKETCH12_R)
        with Locations(Location((91.013896682, 23.228641929, 0), (0, 0, 270))):
            Circle(SKETCH12_R)
        with Locations(Location((91.013896682, 15.228641929, 0), (0, 0, 270))):
            Circle(SKETCH12_R)
        with Locations(Location((91.013896682, 7.228641929, 0), (0, 0, 270))):
            Circle(SKETCH12_R)
        with Locations(Location((91.013896682, -0.771358071, 0), (0, 0, 270))):
            Circle(SKETCH12_R)
        with Locations(Location((91.013896682, -8.771358071, 0), (0, 0, 270))):
            Circle(SKETCH12_R)
        with Locations(Location((91.013896682, -16.771358071, 0), (0, 0, 270))):
            Circle(SKETCH12_R)
        with Locations(Location((91.013896682, -24.771358071, 0), (0, 0, 270))):
            Circle(SKETCH12_R)
        with Locations(Location((91.013896682, -32.771358071, 0), (0, 0, 270))):
            Circle(SKETCH12_R)
        with Locations(Location((61.013896682, 39.228641929, 0), (0, 0, 270))):
            Circle(SKETCH12_R)
        with Locations(Location((71.013896682, 39.228641929, 0), (0, 0, 270))):
            Circle(SKETCH12_R)
        with Locations(Location((81.013896682, 39.228641929, 0), (0, 0, 270))):
            Circle(SKETCH12_R)
        with Locations(Location((91.013896682, 39.228641929, 0), (0, 0, 270))):
            Circle(SKETCH12_R)
    extrude(amount=-CUT_EXTRUDE8_DEPTH, mode=Mode.SUBTRACT)


solid = part.part
